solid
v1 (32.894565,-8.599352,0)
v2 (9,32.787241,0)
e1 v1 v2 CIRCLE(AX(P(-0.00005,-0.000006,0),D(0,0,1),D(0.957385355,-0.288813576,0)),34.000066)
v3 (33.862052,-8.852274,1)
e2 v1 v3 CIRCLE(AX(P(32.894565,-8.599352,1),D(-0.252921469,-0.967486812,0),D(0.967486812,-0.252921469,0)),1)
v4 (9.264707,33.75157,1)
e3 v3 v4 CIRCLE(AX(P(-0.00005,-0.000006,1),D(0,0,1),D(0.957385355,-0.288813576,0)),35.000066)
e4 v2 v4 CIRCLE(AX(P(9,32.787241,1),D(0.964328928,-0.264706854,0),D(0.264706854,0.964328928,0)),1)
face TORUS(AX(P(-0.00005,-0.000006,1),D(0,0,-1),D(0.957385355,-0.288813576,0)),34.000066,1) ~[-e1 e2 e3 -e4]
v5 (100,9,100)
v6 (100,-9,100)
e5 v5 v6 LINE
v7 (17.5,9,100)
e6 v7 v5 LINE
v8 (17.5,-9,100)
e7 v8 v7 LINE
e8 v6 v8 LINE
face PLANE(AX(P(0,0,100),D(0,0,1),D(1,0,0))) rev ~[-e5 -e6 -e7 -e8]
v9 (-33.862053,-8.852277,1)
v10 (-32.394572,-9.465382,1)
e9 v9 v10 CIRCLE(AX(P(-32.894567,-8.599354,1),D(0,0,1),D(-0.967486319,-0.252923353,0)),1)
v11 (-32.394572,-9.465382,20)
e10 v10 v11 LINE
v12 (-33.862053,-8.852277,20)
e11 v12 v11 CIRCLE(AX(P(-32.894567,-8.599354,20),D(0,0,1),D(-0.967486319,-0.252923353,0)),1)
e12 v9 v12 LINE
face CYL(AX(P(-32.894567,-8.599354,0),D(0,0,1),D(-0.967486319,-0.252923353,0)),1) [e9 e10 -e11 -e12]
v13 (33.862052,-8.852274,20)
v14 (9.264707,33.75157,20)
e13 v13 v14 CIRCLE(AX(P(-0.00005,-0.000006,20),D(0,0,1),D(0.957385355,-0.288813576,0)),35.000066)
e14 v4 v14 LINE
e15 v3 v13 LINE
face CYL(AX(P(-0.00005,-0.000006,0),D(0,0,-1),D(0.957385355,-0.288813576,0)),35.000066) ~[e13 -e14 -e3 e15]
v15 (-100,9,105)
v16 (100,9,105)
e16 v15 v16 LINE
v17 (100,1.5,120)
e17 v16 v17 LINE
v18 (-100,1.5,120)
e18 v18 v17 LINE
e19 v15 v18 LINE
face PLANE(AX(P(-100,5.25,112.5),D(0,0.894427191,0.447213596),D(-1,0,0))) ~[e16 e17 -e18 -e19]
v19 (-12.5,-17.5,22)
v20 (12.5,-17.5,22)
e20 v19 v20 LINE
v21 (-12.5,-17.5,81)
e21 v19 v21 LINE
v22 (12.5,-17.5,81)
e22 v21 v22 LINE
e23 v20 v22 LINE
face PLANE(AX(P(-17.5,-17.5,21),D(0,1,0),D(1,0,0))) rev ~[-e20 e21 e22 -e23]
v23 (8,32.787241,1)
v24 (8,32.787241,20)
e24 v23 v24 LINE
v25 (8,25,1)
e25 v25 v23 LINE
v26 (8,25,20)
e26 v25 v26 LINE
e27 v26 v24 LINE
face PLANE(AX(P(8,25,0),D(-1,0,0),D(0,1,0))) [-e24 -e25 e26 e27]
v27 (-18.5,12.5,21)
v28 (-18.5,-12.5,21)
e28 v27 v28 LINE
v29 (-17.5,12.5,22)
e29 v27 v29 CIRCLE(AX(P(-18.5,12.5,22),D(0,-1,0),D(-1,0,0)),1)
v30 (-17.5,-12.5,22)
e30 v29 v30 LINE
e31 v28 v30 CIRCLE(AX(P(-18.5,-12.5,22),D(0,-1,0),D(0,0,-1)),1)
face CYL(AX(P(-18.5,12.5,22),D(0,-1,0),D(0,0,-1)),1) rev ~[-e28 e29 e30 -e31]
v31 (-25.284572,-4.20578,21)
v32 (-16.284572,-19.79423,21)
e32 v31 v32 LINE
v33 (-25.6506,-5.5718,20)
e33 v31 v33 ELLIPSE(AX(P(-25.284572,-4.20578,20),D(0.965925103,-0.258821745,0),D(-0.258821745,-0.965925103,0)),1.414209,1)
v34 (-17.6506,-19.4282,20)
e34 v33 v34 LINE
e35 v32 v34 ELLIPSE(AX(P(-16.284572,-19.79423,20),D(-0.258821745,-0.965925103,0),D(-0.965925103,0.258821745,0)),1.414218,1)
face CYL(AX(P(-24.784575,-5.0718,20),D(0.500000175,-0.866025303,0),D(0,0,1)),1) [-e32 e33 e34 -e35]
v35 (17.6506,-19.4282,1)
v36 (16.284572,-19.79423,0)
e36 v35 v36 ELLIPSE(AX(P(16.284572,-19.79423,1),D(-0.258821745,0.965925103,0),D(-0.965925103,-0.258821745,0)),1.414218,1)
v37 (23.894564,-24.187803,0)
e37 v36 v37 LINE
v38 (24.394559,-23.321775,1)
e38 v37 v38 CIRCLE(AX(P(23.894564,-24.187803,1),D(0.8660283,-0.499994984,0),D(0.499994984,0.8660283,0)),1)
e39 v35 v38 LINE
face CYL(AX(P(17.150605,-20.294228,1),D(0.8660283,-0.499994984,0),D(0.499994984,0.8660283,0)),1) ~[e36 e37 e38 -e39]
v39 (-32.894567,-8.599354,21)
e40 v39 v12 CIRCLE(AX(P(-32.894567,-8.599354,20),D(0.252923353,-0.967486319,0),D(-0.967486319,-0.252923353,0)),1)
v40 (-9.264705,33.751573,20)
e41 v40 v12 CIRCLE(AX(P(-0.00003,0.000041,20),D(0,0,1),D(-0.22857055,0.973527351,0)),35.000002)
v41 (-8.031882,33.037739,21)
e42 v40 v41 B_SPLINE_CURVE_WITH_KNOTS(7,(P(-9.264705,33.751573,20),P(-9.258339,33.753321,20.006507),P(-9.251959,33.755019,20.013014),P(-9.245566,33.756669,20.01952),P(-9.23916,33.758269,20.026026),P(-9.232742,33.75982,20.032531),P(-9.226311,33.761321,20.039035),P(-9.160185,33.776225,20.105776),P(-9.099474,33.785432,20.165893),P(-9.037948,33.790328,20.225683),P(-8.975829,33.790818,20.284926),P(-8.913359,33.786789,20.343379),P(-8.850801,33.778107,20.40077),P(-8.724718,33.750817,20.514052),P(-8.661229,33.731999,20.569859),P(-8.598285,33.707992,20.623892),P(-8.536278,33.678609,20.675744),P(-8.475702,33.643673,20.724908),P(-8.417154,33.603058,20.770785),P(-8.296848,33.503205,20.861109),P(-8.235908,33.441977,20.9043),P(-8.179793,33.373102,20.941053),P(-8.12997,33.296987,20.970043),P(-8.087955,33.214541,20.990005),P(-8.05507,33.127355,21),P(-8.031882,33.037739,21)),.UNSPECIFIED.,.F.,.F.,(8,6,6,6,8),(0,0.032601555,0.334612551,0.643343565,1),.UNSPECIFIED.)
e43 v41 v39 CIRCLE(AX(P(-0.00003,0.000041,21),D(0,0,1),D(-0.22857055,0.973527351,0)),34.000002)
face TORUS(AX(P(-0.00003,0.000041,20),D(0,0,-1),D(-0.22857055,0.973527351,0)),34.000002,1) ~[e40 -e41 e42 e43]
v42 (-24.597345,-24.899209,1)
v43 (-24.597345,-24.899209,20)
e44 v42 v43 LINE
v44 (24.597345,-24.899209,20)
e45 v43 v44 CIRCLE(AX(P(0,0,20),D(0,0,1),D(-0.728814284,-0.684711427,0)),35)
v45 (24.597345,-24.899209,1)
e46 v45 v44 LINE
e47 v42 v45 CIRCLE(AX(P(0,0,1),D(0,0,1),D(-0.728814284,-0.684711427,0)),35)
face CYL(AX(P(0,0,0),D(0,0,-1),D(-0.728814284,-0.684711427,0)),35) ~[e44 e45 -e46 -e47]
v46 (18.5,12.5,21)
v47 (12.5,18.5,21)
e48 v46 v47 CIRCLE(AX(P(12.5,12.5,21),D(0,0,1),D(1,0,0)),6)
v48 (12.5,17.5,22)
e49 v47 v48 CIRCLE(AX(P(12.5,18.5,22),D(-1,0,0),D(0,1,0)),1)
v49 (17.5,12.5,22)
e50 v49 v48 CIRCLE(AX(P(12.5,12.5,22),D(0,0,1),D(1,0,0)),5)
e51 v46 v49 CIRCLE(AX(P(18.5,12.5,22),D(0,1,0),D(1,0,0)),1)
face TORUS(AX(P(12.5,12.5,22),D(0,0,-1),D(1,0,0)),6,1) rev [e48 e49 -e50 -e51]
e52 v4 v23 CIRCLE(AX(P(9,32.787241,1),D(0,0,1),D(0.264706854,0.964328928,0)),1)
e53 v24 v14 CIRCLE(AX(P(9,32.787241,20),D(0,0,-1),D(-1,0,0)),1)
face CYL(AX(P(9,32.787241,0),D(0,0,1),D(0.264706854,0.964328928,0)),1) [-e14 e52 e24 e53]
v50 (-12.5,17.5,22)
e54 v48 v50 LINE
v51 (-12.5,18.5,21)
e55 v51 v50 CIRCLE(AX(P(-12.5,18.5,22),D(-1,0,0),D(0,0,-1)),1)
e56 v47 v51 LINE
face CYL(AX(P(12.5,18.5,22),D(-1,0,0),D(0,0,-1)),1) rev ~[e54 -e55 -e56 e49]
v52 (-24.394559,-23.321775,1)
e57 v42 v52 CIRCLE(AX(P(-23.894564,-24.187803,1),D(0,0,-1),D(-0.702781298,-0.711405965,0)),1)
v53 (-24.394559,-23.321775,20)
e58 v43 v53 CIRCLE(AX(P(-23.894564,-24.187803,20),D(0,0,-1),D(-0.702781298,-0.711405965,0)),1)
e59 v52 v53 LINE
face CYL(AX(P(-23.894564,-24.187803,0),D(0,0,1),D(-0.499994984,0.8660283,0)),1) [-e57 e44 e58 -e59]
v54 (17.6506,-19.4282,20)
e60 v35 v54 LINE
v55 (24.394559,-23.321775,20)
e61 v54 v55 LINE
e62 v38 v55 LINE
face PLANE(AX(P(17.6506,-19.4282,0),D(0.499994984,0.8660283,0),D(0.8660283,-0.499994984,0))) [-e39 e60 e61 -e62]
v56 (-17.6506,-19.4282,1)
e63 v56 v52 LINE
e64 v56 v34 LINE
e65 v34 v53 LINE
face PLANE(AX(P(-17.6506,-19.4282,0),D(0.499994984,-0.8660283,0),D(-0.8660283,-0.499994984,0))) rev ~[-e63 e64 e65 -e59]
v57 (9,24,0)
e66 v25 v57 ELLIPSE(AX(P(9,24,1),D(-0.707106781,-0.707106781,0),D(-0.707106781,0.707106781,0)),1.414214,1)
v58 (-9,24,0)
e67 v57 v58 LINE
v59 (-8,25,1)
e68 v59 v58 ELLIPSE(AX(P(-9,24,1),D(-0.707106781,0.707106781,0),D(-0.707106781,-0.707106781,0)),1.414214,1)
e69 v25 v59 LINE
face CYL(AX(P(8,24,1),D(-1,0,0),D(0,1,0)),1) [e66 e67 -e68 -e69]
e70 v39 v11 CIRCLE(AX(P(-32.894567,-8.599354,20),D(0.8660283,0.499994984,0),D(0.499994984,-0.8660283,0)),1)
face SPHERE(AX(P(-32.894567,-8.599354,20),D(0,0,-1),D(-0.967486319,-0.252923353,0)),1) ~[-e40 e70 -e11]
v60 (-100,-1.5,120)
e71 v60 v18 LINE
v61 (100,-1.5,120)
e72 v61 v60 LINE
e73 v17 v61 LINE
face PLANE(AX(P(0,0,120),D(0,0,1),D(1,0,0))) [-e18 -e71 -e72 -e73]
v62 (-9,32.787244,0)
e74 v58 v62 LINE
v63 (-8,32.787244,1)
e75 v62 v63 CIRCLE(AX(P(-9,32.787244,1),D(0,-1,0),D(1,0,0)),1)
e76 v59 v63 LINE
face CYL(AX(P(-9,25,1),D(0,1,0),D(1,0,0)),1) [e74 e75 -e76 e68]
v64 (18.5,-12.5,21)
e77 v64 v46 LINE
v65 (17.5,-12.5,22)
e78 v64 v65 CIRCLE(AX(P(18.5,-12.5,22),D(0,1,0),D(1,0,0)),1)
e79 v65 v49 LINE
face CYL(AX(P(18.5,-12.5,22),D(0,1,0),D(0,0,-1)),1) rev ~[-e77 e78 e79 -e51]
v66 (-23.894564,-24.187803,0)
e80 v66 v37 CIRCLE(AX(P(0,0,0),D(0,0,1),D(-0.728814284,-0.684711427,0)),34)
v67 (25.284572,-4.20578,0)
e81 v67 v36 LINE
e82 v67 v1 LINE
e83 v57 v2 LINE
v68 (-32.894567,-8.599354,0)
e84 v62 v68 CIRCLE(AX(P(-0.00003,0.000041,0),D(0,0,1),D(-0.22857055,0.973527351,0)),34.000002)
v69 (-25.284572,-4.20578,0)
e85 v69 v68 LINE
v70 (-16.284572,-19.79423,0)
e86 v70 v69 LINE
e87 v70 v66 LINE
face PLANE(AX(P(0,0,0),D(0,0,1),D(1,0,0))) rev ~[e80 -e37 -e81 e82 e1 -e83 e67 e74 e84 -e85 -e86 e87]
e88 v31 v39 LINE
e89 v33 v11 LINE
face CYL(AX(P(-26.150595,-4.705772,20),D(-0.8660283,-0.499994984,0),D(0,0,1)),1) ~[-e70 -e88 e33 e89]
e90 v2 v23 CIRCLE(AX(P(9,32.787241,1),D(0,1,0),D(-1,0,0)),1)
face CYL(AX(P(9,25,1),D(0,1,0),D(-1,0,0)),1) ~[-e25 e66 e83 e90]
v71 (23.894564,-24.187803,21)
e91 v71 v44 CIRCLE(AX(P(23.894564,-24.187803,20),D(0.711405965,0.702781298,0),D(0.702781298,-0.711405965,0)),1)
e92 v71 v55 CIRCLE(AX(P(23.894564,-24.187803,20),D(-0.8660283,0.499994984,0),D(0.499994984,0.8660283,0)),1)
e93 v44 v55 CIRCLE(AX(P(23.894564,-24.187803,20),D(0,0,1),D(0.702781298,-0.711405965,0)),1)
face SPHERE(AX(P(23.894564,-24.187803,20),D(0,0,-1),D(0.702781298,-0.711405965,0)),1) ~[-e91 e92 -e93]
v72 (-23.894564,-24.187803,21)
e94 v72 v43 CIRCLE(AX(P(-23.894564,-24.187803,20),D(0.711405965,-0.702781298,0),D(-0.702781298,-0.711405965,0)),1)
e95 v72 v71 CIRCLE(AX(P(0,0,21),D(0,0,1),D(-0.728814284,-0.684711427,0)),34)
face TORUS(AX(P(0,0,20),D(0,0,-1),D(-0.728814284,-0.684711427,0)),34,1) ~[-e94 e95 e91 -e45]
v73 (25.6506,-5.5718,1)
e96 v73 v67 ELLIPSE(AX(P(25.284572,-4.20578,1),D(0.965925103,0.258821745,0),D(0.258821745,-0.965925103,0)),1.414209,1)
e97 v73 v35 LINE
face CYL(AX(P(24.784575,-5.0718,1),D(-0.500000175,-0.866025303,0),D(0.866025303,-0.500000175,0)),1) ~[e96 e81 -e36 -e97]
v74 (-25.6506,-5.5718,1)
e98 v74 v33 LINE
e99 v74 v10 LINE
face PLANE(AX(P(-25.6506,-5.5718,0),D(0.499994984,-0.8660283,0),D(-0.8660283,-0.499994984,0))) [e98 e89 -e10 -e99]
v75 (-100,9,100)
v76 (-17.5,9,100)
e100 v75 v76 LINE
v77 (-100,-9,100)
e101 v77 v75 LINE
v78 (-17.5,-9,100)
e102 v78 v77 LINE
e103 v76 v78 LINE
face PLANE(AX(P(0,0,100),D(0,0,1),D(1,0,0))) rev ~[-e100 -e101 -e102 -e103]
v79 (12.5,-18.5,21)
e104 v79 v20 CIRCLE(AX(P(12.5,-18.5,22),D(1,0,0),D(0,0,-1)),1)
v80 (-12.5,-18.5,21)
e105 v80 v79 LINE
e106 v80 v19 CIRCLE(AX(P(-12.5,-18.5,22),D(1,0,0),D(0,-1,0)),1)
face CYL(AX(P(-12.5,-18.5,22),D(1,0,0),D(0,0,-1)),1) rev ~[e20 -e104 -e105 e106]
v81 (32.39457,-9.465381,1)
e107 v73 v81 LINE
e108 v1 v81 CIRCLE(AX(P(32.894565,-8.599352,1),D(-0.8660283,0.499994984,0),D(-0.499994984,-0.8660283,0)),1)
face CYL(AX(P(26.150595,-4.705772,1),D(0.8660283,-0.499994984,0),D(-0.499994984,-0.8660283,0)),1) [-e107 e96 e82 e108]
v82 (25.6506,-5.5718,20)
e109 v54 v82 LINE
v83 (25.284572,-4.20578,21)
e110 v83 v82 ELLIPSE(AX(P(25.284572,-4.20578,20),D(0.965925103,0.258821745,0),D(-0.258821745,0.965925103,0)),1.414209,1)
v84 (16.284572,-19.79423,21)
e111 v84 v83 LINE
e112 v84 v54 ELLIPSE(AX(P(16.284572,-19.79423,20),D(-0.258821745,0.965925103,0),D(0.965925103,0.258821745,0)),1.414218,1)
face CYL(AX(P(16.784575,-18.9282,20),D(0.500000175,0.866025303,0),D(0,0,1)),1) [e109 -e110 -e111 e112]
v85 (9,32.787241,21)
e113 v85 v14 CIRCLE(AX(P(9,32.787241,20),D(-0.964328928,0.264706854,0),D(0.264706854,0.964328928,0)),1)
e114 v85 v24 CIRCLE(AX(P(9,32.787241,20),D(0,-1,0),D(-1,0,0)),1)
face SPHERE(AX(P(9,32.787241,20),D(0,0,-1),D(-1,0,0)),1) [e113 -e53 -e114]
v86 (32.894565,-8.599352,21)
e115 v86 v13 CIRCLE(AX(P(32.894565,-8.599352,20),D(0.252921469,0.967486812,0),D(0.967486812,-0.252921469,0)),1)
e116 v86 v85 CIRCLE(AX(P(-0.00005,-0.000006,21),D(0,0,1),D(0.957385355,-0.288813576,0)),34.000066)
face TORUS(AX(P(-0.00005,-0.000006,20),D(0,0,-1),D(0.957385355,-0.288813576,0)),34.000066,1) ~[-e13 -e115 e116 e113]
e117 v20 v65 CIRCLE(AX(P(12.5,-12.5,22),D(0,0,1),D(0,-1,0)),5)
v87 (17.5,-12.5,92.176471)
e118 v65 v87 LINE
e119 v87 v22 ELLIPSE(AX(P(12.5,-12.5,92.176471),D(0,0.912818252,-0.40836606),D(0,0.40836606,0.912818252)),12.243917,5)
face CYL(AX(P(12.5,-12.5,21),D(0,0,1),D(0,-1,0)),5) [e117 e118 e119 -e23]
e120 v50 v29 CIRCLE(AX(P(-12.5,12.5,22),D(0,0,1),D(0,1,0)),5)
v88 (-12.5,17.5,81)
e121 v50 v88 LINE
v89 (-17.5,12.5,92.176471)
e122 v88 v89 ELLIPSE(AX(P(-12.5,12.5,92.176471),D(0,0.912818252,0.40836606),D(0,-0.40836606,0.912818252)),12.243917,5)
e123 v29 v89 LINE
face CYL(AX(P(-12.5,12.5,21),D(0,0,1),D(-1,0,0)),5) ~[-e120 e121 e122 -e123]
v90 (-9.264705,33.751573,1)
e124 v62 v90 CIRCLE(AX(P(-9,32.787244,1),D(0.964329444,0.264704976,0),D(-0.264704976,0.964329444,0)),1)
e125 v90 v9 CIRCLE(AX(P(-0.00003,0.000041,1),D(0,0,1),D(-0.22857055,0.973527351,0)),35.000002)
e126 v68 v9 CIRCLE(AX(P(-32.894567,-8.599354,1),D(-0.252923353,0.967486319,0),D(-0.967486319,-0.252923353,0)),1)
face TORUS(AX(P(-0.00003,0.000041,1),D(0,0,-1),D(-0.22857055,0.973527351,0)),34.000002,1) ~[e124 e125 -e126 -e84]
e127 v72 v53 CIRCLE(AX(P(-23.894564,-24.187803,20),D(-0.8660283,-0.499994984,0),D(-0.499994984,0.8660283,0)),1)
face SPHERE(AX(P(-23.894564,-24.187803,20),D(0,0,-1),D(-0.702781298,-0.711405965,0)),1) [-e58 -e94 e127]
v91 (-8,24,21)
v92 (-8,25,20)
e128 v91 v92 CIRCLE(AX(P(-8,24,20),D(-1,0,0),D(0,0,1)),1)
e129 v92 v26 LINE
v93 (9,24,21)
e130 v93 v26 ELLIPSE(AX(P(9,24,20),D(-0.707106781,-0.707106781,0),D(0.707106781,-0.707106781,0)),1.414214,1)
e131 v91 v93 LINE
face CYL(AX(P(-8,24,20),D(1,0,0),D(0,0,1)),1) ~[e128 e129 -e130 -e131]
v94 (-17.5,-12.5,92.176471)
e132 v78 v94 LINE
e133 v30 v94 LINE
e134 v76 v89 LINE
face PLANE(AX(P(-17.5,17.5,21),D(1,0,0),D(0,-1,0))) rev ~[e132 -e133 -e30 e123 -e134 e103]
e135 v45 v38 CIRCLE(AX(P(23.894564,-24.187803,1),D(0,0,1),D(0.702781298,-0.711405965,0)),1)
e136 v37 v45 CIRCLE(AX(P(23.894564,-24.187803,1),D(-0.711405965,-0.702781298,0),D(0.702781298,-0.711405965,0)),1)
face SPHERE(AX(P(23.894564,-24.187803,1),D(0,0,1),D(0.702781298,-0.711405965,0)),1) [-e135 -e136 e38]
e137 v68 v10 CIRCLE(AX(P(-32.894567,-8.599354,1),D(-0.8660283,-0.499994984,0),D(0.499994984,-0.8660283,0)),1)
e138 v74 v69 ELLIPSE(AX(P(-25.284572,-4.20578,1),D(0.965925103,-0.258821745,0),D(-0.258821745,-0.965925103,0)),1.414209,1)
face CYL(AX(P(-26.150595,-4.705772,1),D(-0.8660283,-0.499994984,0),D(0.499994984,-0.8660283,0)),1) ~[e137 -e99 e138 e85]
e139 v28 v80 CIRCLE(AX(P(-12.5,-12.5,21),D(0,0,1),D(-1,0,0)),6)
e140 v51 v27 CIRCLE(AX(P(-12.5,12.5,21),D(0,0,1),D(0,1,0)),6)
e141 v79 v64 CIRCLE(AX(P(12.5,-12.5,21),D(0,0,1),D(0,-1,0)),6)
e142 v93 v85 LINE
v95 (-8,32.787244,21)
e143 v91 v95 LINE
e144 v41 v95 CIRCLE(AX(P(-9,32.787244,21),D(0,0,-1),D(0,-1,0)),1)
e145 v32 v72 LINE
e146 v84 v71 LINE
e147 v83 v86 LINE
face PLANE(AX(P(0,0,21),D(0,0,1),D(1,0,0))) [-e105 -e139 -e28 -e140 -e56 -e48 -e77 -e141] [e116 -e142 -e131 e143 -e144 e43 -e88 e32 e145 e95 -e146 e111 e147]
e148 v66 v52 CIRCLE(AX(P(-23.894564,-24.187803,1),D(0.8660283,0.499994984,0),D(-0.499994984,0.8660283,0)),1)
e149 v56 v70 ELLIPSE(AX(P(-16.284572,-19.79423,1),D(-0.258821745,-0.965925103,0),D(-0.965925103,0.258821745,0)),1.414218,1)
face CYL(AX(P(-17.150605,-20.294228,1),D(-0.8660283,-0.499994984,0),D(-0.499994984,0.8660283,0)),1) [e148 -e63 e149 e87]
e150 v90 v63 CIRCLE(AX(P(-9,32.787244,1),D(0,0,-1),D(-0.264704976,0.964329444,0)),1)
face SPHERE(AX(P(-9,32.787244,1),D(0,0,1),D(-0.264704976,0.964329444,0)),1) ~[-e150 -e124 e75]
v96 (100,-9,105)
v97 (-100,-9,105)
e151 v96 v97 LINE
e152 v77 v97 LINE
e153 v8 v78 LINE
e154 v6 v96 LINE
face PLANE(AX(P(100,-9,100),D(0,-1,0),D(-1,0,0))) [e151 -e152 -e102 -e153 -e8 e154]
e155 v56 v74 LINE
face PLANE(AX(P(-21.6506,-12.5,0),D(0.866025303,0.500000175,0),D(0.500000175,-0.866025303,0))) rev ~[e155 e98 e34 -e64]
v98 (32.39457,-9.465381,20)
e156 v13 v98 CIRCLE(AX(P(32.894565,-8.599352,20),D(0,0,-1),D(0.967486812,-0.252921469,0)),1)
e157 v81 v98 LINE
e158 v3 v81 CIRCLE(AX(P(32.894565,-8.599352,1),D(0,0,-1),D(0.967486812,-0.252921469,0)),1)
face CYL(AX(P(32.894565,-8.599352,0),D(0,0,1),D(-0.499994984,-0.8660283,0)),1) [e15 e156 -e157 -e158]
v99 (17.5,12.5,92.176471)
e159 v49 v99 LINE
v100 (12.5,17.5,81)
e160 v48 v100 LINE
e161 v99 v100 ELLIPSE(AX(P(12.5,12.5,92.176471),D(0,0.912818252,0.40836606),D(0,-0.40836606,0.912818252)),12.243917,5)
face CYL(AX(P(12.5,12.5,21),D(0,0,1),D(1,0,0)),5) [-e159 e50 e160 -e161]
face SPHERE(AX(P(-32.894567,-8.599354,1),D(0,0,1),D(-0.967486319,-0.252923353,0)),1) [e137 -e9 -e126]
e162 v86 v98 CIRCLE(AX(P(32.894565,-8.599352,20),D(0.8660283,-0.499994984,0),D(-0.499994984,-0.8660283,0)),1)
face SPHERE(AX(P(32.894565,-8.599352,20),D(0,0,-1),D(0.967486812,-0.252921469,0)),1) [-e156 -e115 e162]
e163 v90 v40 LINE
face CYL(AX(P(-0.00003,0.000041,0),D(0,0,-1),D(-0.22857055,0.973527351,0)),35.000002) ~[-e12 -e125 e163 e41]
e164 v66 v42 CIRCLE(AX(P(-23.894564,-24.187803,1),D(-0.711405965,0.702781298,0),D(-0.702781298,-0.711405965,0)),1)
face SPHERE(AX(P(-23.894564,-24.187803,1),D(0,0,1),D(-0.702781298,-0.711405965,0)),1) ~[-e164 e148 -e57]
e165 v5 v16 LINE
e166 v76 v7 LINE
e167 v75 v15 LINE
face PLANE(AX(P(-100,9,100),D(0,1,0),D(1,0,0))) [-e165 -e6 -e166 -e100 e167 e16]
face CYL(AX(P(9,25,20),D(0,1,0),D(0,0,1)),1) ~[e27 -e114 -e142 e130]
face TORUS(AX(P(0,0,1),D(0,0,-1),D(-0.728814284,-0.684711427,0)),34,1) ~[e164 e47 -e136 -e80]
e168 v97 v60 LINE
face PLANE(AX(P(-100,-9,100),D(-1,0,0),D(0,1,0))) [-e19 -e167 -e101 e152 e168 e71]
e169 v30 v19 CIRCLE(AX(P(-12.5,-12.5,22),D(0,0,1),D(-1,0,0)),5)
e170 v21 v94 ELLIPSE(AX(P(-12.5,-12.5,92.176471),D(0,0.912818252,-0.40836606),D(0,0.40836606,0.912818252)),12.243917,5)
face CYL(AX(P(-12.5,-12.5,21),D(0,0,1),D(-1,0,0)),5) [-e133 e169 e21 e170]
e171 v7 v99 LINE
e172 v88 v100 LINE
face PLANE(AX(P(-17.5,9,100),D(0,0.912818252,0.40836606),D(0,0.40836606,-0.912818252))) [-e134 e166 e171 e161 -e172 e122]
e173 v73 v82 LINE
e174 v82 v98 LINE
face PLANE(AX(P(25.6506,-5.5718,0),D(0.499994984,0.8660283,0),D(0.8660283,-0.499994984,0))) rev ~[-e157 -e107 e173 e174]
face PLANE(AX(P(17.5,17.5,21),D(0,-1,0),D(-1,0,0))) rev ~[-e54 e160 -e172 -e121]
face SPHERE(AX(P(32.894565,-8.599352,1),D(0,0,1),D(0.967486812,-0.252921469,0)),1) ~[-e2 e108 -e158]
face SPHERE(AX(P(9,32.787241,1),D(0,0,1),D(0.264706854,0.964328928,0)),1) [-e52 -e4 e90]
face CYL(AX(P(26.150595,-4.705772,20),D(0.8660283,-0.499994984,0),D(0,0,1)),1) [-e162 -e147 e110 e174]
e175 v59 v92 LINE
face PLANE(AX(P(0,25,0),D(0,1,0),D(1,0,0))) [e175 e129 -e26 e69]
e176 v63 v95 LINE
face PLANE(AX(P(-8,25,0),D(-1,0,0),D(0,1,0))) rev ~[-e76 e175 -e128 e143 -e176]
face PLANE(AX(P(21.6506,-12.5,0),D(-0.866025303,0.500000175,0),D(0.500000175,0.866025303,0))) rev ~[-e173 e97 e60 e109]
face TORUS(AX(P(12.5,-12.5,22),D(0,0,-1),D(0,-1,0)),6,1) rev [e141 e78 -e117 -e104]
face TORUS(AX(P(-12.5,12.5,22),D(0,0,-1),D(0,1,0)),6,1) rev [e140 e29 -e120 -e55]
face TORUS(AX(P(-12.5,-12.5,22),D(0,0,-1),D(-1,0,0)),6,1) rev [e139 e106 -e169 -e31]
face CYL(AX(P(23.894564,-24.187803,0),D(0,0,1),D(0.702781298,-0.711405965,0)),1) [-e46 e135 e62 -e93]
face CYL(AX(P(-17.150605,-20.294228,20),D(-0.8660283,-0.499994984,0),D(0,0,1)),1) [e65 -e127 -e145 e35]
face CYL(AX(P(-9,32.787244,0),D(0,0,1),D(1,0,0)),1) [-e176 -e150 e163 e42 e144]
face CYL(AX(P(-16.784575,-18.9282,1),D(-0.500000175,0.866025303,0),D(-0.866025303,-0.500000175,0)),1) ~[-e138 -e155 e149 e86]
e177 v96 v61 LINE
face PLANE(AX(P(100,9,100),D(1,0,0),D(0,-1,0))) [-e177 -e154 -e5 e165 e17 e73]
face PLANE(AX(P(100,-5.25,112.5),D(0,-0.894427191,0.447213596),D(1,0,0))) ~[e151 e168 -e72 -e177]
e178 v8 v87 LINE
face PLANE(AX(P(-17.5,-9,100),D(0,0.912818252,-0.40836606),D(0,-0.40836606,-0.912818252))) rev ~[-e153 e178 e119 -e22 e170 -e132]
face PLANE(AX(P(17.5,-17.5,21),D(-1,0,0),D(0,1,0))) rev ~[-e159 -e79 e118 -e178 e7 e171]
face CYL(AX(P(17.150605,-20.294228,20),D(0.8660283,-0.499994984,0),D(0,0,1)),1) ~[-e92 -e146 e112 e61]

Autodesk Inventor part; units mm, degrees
ref_plane "YZ Plane" through (0, 0, 0) normal (1, 0, 0) x (0, 1, 0)
ref_plane "XZ Plane" through (0, 0, 0) normal (0, 1, 0) x (-1, 0, 0)
ref_plane "XY Plane" through (0, 0, 0) normal (0, 0, 1) x (1, 0, 0)
sketch "Sketch1" plane through (0, 0, 0) normal (0, 0, 1) x (1, 0, 0)
  circle A0 centre (0, 0) radius 25 construction
  line L0 (0, 0) -> (0, 25) construction
  line L1 (0, 0) -> (21.6506, -12.5) construction
  line L2 (0, 0) -> (-21.6506, -12.5) construction
  line L3 (0, 25) -> (8, 25)
  line L4 (0, 25) -> (-8, 25)
  line L5 (0, 25) -> (8, 25) construction
  line L6 (21.6506, -12.5) -> (25.6506, -5.5718)
  line L7 (21.6506, -12.5) -> (29.6506, -12.5) construction
  line L8 (21.6506, -12.5) -> (17.6506, -19.4282)
  line L9 (21.6506, -12.5) -> (29.6506, -12.5) construction
  line L10 (-21.6506, -12.5) -> (-25.6506, -5.5718)
  line L11 (-21.6506, -12.5) -> (-13.6506, -12.5) construction
  line L12 (-21.6506, -12.5) -> (-17.6506, -19.4282)
  line L13 (-21.6506, -12.5) -> (-13.6506, -12.5) construction
  line L14 (8, 25) -> (8, 34.0735)
  line L15 (-8, 25) -> (-8, 34.0735)
  line L16 (25.6506, -5.5718) -> (33.5085, -10.1085)
  line L17 (17.6506, -19.4282) -> (25.5085, -23.9649)
  line L18 (-17.6506, -19.4282) -> (-25.5085, -23.9649)
  line L19 (-25.6506, -5.5718) -> (-33.5085, -10.1085)
  arc A1 (33.5085, -10.1085) -> (8, 34.0735) centre (0, 0) ccw
  arc A2 (-8, 34.0735) -> (-33.5085, -10.1085) centre (0, 0) ccw
  arc A3 (-25.5085, -23.9649) -> (25.5085, -23.9649) centre (0, 0) ccw
  dimension "d0" = 50
  dimension "d1" = 120
  dimension "d2" = 120
  dimension "d3" = 8
  dimension "d4" = 8
  dimension "d5" = 180
  dimension "d6" = 8
  dimension "d7" = 60
  dimension "d8" = 8
  dimension "d9" = 120
  dimension "d10" = 8
  dimension "d11" = 120
  dimension "d12" = 8
  dimension "d13" = 60
  dimension "d15" = 35
  dimension "d16" = 35
  dimension "d17" = 35
extrude "Extrusion1" add sketch "Sketch1" along normal blind 21
sketch "Sketch2" plane through (0, 0, 21) normal (0, 0, 1) x (1, 0, 0)
  line L0 (-17.5, -17.5) -> (17.5, -17.5)
  line L1 (17.5, -17.5) -> (17.5, 17.5)
  line L2 (17.5, 17.5) -> (-17.5, 17.5)
  line L3 (-17.5, 17.5) -> (-17.5, -17.5)
  line L4 (-17.5, -17.5) -> (17.5, 17.5) construction
  line L5 (17.5, -17.5) -> (-17.5, 17.5) construction
  point P0 (0, 0)
  dimension "d20" = 35
  dimension "d21" = 35
extrude "Extrusion2" add sketch "Sketch2" along normal blind 79
fillet "Fillet1" radius 5 4 edges at (17.5, 17.5, 60.5) (17.5, -17.5, 60.5) (-17.5, 17.5, 60.5) (-17.5, -17.5, 60.5)
fillet "Fillet2" radius 1 37 edges at (30.3109, 17.5, 0) (-30.3109, 17.5, 0) (0, -35, 0) (21.6506, -12.5, 0) (29.5796, -7.8402, 0) (21.5796, -21.6966, 0) (8, 29.5367, 0) (0, 25, 0) (-8, 29.5367, 0) (-29.5796, -7.8402, 0) (-21.6506, -12.5, 0) (-21.5796, -21.6966, 0) (16.0355, 16.0355, 21) (17.5, 0, 21) (16.0355, -16.0355, 21) (0, -17.5, 21) (-16.0355, -16.0355, 21) (-17.5, 0, 21) (-16.0355, 16.0355, 21) (0, 17.5, 21) (0, 25, 21) (8, 29.5367, 21) (30.3109, 17.5, 21) (8, 34.0735, 10.5) (-8, 34.0735, 10.5) (-30.3109, 17.5, 21) (21.6506, -12.5, 21) (29.5796, -7.8402, 21) (33.5085, -10.1085, 10.5) (21.5796, -21.6966, 21) (25.5085, -23.9649, 10.5) (0, -35, 21) (-21.5796, -21.6966, 21) (-21.6506, -12.5, 21) (-29.5796, -7.8402, 21) (-33.5085, -10.1085, 10.5) (-25.5085, -23.9649, 10.5)
sketch "Sketch4" plane through (0, 0, 100) normal (0, 0, 1) x (1, 0, 0)
  line L0 (-100, 9) -> (100, 9)
  line L1 (100, 9) -> (100, -9)
  line L2 (100, -9) -> (-100, -9)
  line L3 (-100, -9) -> (-100, 9)
  line L4 (-100, 9) -> (100, -9) construction
  line L5 (100, 9) -> (-100, -9) construction
  point P0 (0, 0)
  dimension "d29" = 200
  dimension "d30" = 18
extrude "Extrusion4" add sketch "Sketch4" along normal blind 20
chamfer "Chamfer1" distance 15 distance2 7.5 1 edges at (0, 9, 120) measured on face at (-5.8333, 9, 113.3333)
chamfer "Chamfer2" distance 15 distance2 7.5 1 edges at (0, -9, 120) measured on face at (5.8333, -9, 113.3333)
sketch "Sketch5" plane through (-17.5, -12.5, 22) normal (-1, 0, 0) x (0, 0, 1)
  line L0 (78, 25) -> (78, 21.5) projected
  line L1 (78, 21.5) -> (59, 30)
  line L2 (78, 30) -> (0, 30) projected
  line L3 (78, 21.5) -> (78, 3.5) projected
  line L4 (78, 3.5) -> (59, -5)
  line L5 (0, -5) -> (78, -5) projected
  line L6 (-1, 45.5377) -> (-1, 3.9006) projected
  line L7 (-1, -11.6878) -> (-1, -21.5) projected
  line L8 (59, 30) -> (79.7538, 33.0683)
  line L9 (79.7538, 33.0683) -> (78, 21.5)
  line L10 (78, 0) -> (78, 3.5) projected
  line L11 (78, 3.5) -> (84.2924, -8.3159)
  line L12 (84.2924, -8.3159) -> (59, -5)
  point P0 (-22, 12.5)
  dimension "d39" = 60
  dimension "d40" = 60
extrude "Extrusion5" cut sketch "Sketch5" against normal through all
equation "\"d3\" = d4"
equation "\"d6\" = d4"
equation "\"d8\" = d4"
equation "\"d10\" = d4"
equation "\"d12\" = d4"
equation "\"d16\" = d15"
equation "\"d17\" = d15"
equation "\"d40\" = d39"
properties part number "Squeegee"
